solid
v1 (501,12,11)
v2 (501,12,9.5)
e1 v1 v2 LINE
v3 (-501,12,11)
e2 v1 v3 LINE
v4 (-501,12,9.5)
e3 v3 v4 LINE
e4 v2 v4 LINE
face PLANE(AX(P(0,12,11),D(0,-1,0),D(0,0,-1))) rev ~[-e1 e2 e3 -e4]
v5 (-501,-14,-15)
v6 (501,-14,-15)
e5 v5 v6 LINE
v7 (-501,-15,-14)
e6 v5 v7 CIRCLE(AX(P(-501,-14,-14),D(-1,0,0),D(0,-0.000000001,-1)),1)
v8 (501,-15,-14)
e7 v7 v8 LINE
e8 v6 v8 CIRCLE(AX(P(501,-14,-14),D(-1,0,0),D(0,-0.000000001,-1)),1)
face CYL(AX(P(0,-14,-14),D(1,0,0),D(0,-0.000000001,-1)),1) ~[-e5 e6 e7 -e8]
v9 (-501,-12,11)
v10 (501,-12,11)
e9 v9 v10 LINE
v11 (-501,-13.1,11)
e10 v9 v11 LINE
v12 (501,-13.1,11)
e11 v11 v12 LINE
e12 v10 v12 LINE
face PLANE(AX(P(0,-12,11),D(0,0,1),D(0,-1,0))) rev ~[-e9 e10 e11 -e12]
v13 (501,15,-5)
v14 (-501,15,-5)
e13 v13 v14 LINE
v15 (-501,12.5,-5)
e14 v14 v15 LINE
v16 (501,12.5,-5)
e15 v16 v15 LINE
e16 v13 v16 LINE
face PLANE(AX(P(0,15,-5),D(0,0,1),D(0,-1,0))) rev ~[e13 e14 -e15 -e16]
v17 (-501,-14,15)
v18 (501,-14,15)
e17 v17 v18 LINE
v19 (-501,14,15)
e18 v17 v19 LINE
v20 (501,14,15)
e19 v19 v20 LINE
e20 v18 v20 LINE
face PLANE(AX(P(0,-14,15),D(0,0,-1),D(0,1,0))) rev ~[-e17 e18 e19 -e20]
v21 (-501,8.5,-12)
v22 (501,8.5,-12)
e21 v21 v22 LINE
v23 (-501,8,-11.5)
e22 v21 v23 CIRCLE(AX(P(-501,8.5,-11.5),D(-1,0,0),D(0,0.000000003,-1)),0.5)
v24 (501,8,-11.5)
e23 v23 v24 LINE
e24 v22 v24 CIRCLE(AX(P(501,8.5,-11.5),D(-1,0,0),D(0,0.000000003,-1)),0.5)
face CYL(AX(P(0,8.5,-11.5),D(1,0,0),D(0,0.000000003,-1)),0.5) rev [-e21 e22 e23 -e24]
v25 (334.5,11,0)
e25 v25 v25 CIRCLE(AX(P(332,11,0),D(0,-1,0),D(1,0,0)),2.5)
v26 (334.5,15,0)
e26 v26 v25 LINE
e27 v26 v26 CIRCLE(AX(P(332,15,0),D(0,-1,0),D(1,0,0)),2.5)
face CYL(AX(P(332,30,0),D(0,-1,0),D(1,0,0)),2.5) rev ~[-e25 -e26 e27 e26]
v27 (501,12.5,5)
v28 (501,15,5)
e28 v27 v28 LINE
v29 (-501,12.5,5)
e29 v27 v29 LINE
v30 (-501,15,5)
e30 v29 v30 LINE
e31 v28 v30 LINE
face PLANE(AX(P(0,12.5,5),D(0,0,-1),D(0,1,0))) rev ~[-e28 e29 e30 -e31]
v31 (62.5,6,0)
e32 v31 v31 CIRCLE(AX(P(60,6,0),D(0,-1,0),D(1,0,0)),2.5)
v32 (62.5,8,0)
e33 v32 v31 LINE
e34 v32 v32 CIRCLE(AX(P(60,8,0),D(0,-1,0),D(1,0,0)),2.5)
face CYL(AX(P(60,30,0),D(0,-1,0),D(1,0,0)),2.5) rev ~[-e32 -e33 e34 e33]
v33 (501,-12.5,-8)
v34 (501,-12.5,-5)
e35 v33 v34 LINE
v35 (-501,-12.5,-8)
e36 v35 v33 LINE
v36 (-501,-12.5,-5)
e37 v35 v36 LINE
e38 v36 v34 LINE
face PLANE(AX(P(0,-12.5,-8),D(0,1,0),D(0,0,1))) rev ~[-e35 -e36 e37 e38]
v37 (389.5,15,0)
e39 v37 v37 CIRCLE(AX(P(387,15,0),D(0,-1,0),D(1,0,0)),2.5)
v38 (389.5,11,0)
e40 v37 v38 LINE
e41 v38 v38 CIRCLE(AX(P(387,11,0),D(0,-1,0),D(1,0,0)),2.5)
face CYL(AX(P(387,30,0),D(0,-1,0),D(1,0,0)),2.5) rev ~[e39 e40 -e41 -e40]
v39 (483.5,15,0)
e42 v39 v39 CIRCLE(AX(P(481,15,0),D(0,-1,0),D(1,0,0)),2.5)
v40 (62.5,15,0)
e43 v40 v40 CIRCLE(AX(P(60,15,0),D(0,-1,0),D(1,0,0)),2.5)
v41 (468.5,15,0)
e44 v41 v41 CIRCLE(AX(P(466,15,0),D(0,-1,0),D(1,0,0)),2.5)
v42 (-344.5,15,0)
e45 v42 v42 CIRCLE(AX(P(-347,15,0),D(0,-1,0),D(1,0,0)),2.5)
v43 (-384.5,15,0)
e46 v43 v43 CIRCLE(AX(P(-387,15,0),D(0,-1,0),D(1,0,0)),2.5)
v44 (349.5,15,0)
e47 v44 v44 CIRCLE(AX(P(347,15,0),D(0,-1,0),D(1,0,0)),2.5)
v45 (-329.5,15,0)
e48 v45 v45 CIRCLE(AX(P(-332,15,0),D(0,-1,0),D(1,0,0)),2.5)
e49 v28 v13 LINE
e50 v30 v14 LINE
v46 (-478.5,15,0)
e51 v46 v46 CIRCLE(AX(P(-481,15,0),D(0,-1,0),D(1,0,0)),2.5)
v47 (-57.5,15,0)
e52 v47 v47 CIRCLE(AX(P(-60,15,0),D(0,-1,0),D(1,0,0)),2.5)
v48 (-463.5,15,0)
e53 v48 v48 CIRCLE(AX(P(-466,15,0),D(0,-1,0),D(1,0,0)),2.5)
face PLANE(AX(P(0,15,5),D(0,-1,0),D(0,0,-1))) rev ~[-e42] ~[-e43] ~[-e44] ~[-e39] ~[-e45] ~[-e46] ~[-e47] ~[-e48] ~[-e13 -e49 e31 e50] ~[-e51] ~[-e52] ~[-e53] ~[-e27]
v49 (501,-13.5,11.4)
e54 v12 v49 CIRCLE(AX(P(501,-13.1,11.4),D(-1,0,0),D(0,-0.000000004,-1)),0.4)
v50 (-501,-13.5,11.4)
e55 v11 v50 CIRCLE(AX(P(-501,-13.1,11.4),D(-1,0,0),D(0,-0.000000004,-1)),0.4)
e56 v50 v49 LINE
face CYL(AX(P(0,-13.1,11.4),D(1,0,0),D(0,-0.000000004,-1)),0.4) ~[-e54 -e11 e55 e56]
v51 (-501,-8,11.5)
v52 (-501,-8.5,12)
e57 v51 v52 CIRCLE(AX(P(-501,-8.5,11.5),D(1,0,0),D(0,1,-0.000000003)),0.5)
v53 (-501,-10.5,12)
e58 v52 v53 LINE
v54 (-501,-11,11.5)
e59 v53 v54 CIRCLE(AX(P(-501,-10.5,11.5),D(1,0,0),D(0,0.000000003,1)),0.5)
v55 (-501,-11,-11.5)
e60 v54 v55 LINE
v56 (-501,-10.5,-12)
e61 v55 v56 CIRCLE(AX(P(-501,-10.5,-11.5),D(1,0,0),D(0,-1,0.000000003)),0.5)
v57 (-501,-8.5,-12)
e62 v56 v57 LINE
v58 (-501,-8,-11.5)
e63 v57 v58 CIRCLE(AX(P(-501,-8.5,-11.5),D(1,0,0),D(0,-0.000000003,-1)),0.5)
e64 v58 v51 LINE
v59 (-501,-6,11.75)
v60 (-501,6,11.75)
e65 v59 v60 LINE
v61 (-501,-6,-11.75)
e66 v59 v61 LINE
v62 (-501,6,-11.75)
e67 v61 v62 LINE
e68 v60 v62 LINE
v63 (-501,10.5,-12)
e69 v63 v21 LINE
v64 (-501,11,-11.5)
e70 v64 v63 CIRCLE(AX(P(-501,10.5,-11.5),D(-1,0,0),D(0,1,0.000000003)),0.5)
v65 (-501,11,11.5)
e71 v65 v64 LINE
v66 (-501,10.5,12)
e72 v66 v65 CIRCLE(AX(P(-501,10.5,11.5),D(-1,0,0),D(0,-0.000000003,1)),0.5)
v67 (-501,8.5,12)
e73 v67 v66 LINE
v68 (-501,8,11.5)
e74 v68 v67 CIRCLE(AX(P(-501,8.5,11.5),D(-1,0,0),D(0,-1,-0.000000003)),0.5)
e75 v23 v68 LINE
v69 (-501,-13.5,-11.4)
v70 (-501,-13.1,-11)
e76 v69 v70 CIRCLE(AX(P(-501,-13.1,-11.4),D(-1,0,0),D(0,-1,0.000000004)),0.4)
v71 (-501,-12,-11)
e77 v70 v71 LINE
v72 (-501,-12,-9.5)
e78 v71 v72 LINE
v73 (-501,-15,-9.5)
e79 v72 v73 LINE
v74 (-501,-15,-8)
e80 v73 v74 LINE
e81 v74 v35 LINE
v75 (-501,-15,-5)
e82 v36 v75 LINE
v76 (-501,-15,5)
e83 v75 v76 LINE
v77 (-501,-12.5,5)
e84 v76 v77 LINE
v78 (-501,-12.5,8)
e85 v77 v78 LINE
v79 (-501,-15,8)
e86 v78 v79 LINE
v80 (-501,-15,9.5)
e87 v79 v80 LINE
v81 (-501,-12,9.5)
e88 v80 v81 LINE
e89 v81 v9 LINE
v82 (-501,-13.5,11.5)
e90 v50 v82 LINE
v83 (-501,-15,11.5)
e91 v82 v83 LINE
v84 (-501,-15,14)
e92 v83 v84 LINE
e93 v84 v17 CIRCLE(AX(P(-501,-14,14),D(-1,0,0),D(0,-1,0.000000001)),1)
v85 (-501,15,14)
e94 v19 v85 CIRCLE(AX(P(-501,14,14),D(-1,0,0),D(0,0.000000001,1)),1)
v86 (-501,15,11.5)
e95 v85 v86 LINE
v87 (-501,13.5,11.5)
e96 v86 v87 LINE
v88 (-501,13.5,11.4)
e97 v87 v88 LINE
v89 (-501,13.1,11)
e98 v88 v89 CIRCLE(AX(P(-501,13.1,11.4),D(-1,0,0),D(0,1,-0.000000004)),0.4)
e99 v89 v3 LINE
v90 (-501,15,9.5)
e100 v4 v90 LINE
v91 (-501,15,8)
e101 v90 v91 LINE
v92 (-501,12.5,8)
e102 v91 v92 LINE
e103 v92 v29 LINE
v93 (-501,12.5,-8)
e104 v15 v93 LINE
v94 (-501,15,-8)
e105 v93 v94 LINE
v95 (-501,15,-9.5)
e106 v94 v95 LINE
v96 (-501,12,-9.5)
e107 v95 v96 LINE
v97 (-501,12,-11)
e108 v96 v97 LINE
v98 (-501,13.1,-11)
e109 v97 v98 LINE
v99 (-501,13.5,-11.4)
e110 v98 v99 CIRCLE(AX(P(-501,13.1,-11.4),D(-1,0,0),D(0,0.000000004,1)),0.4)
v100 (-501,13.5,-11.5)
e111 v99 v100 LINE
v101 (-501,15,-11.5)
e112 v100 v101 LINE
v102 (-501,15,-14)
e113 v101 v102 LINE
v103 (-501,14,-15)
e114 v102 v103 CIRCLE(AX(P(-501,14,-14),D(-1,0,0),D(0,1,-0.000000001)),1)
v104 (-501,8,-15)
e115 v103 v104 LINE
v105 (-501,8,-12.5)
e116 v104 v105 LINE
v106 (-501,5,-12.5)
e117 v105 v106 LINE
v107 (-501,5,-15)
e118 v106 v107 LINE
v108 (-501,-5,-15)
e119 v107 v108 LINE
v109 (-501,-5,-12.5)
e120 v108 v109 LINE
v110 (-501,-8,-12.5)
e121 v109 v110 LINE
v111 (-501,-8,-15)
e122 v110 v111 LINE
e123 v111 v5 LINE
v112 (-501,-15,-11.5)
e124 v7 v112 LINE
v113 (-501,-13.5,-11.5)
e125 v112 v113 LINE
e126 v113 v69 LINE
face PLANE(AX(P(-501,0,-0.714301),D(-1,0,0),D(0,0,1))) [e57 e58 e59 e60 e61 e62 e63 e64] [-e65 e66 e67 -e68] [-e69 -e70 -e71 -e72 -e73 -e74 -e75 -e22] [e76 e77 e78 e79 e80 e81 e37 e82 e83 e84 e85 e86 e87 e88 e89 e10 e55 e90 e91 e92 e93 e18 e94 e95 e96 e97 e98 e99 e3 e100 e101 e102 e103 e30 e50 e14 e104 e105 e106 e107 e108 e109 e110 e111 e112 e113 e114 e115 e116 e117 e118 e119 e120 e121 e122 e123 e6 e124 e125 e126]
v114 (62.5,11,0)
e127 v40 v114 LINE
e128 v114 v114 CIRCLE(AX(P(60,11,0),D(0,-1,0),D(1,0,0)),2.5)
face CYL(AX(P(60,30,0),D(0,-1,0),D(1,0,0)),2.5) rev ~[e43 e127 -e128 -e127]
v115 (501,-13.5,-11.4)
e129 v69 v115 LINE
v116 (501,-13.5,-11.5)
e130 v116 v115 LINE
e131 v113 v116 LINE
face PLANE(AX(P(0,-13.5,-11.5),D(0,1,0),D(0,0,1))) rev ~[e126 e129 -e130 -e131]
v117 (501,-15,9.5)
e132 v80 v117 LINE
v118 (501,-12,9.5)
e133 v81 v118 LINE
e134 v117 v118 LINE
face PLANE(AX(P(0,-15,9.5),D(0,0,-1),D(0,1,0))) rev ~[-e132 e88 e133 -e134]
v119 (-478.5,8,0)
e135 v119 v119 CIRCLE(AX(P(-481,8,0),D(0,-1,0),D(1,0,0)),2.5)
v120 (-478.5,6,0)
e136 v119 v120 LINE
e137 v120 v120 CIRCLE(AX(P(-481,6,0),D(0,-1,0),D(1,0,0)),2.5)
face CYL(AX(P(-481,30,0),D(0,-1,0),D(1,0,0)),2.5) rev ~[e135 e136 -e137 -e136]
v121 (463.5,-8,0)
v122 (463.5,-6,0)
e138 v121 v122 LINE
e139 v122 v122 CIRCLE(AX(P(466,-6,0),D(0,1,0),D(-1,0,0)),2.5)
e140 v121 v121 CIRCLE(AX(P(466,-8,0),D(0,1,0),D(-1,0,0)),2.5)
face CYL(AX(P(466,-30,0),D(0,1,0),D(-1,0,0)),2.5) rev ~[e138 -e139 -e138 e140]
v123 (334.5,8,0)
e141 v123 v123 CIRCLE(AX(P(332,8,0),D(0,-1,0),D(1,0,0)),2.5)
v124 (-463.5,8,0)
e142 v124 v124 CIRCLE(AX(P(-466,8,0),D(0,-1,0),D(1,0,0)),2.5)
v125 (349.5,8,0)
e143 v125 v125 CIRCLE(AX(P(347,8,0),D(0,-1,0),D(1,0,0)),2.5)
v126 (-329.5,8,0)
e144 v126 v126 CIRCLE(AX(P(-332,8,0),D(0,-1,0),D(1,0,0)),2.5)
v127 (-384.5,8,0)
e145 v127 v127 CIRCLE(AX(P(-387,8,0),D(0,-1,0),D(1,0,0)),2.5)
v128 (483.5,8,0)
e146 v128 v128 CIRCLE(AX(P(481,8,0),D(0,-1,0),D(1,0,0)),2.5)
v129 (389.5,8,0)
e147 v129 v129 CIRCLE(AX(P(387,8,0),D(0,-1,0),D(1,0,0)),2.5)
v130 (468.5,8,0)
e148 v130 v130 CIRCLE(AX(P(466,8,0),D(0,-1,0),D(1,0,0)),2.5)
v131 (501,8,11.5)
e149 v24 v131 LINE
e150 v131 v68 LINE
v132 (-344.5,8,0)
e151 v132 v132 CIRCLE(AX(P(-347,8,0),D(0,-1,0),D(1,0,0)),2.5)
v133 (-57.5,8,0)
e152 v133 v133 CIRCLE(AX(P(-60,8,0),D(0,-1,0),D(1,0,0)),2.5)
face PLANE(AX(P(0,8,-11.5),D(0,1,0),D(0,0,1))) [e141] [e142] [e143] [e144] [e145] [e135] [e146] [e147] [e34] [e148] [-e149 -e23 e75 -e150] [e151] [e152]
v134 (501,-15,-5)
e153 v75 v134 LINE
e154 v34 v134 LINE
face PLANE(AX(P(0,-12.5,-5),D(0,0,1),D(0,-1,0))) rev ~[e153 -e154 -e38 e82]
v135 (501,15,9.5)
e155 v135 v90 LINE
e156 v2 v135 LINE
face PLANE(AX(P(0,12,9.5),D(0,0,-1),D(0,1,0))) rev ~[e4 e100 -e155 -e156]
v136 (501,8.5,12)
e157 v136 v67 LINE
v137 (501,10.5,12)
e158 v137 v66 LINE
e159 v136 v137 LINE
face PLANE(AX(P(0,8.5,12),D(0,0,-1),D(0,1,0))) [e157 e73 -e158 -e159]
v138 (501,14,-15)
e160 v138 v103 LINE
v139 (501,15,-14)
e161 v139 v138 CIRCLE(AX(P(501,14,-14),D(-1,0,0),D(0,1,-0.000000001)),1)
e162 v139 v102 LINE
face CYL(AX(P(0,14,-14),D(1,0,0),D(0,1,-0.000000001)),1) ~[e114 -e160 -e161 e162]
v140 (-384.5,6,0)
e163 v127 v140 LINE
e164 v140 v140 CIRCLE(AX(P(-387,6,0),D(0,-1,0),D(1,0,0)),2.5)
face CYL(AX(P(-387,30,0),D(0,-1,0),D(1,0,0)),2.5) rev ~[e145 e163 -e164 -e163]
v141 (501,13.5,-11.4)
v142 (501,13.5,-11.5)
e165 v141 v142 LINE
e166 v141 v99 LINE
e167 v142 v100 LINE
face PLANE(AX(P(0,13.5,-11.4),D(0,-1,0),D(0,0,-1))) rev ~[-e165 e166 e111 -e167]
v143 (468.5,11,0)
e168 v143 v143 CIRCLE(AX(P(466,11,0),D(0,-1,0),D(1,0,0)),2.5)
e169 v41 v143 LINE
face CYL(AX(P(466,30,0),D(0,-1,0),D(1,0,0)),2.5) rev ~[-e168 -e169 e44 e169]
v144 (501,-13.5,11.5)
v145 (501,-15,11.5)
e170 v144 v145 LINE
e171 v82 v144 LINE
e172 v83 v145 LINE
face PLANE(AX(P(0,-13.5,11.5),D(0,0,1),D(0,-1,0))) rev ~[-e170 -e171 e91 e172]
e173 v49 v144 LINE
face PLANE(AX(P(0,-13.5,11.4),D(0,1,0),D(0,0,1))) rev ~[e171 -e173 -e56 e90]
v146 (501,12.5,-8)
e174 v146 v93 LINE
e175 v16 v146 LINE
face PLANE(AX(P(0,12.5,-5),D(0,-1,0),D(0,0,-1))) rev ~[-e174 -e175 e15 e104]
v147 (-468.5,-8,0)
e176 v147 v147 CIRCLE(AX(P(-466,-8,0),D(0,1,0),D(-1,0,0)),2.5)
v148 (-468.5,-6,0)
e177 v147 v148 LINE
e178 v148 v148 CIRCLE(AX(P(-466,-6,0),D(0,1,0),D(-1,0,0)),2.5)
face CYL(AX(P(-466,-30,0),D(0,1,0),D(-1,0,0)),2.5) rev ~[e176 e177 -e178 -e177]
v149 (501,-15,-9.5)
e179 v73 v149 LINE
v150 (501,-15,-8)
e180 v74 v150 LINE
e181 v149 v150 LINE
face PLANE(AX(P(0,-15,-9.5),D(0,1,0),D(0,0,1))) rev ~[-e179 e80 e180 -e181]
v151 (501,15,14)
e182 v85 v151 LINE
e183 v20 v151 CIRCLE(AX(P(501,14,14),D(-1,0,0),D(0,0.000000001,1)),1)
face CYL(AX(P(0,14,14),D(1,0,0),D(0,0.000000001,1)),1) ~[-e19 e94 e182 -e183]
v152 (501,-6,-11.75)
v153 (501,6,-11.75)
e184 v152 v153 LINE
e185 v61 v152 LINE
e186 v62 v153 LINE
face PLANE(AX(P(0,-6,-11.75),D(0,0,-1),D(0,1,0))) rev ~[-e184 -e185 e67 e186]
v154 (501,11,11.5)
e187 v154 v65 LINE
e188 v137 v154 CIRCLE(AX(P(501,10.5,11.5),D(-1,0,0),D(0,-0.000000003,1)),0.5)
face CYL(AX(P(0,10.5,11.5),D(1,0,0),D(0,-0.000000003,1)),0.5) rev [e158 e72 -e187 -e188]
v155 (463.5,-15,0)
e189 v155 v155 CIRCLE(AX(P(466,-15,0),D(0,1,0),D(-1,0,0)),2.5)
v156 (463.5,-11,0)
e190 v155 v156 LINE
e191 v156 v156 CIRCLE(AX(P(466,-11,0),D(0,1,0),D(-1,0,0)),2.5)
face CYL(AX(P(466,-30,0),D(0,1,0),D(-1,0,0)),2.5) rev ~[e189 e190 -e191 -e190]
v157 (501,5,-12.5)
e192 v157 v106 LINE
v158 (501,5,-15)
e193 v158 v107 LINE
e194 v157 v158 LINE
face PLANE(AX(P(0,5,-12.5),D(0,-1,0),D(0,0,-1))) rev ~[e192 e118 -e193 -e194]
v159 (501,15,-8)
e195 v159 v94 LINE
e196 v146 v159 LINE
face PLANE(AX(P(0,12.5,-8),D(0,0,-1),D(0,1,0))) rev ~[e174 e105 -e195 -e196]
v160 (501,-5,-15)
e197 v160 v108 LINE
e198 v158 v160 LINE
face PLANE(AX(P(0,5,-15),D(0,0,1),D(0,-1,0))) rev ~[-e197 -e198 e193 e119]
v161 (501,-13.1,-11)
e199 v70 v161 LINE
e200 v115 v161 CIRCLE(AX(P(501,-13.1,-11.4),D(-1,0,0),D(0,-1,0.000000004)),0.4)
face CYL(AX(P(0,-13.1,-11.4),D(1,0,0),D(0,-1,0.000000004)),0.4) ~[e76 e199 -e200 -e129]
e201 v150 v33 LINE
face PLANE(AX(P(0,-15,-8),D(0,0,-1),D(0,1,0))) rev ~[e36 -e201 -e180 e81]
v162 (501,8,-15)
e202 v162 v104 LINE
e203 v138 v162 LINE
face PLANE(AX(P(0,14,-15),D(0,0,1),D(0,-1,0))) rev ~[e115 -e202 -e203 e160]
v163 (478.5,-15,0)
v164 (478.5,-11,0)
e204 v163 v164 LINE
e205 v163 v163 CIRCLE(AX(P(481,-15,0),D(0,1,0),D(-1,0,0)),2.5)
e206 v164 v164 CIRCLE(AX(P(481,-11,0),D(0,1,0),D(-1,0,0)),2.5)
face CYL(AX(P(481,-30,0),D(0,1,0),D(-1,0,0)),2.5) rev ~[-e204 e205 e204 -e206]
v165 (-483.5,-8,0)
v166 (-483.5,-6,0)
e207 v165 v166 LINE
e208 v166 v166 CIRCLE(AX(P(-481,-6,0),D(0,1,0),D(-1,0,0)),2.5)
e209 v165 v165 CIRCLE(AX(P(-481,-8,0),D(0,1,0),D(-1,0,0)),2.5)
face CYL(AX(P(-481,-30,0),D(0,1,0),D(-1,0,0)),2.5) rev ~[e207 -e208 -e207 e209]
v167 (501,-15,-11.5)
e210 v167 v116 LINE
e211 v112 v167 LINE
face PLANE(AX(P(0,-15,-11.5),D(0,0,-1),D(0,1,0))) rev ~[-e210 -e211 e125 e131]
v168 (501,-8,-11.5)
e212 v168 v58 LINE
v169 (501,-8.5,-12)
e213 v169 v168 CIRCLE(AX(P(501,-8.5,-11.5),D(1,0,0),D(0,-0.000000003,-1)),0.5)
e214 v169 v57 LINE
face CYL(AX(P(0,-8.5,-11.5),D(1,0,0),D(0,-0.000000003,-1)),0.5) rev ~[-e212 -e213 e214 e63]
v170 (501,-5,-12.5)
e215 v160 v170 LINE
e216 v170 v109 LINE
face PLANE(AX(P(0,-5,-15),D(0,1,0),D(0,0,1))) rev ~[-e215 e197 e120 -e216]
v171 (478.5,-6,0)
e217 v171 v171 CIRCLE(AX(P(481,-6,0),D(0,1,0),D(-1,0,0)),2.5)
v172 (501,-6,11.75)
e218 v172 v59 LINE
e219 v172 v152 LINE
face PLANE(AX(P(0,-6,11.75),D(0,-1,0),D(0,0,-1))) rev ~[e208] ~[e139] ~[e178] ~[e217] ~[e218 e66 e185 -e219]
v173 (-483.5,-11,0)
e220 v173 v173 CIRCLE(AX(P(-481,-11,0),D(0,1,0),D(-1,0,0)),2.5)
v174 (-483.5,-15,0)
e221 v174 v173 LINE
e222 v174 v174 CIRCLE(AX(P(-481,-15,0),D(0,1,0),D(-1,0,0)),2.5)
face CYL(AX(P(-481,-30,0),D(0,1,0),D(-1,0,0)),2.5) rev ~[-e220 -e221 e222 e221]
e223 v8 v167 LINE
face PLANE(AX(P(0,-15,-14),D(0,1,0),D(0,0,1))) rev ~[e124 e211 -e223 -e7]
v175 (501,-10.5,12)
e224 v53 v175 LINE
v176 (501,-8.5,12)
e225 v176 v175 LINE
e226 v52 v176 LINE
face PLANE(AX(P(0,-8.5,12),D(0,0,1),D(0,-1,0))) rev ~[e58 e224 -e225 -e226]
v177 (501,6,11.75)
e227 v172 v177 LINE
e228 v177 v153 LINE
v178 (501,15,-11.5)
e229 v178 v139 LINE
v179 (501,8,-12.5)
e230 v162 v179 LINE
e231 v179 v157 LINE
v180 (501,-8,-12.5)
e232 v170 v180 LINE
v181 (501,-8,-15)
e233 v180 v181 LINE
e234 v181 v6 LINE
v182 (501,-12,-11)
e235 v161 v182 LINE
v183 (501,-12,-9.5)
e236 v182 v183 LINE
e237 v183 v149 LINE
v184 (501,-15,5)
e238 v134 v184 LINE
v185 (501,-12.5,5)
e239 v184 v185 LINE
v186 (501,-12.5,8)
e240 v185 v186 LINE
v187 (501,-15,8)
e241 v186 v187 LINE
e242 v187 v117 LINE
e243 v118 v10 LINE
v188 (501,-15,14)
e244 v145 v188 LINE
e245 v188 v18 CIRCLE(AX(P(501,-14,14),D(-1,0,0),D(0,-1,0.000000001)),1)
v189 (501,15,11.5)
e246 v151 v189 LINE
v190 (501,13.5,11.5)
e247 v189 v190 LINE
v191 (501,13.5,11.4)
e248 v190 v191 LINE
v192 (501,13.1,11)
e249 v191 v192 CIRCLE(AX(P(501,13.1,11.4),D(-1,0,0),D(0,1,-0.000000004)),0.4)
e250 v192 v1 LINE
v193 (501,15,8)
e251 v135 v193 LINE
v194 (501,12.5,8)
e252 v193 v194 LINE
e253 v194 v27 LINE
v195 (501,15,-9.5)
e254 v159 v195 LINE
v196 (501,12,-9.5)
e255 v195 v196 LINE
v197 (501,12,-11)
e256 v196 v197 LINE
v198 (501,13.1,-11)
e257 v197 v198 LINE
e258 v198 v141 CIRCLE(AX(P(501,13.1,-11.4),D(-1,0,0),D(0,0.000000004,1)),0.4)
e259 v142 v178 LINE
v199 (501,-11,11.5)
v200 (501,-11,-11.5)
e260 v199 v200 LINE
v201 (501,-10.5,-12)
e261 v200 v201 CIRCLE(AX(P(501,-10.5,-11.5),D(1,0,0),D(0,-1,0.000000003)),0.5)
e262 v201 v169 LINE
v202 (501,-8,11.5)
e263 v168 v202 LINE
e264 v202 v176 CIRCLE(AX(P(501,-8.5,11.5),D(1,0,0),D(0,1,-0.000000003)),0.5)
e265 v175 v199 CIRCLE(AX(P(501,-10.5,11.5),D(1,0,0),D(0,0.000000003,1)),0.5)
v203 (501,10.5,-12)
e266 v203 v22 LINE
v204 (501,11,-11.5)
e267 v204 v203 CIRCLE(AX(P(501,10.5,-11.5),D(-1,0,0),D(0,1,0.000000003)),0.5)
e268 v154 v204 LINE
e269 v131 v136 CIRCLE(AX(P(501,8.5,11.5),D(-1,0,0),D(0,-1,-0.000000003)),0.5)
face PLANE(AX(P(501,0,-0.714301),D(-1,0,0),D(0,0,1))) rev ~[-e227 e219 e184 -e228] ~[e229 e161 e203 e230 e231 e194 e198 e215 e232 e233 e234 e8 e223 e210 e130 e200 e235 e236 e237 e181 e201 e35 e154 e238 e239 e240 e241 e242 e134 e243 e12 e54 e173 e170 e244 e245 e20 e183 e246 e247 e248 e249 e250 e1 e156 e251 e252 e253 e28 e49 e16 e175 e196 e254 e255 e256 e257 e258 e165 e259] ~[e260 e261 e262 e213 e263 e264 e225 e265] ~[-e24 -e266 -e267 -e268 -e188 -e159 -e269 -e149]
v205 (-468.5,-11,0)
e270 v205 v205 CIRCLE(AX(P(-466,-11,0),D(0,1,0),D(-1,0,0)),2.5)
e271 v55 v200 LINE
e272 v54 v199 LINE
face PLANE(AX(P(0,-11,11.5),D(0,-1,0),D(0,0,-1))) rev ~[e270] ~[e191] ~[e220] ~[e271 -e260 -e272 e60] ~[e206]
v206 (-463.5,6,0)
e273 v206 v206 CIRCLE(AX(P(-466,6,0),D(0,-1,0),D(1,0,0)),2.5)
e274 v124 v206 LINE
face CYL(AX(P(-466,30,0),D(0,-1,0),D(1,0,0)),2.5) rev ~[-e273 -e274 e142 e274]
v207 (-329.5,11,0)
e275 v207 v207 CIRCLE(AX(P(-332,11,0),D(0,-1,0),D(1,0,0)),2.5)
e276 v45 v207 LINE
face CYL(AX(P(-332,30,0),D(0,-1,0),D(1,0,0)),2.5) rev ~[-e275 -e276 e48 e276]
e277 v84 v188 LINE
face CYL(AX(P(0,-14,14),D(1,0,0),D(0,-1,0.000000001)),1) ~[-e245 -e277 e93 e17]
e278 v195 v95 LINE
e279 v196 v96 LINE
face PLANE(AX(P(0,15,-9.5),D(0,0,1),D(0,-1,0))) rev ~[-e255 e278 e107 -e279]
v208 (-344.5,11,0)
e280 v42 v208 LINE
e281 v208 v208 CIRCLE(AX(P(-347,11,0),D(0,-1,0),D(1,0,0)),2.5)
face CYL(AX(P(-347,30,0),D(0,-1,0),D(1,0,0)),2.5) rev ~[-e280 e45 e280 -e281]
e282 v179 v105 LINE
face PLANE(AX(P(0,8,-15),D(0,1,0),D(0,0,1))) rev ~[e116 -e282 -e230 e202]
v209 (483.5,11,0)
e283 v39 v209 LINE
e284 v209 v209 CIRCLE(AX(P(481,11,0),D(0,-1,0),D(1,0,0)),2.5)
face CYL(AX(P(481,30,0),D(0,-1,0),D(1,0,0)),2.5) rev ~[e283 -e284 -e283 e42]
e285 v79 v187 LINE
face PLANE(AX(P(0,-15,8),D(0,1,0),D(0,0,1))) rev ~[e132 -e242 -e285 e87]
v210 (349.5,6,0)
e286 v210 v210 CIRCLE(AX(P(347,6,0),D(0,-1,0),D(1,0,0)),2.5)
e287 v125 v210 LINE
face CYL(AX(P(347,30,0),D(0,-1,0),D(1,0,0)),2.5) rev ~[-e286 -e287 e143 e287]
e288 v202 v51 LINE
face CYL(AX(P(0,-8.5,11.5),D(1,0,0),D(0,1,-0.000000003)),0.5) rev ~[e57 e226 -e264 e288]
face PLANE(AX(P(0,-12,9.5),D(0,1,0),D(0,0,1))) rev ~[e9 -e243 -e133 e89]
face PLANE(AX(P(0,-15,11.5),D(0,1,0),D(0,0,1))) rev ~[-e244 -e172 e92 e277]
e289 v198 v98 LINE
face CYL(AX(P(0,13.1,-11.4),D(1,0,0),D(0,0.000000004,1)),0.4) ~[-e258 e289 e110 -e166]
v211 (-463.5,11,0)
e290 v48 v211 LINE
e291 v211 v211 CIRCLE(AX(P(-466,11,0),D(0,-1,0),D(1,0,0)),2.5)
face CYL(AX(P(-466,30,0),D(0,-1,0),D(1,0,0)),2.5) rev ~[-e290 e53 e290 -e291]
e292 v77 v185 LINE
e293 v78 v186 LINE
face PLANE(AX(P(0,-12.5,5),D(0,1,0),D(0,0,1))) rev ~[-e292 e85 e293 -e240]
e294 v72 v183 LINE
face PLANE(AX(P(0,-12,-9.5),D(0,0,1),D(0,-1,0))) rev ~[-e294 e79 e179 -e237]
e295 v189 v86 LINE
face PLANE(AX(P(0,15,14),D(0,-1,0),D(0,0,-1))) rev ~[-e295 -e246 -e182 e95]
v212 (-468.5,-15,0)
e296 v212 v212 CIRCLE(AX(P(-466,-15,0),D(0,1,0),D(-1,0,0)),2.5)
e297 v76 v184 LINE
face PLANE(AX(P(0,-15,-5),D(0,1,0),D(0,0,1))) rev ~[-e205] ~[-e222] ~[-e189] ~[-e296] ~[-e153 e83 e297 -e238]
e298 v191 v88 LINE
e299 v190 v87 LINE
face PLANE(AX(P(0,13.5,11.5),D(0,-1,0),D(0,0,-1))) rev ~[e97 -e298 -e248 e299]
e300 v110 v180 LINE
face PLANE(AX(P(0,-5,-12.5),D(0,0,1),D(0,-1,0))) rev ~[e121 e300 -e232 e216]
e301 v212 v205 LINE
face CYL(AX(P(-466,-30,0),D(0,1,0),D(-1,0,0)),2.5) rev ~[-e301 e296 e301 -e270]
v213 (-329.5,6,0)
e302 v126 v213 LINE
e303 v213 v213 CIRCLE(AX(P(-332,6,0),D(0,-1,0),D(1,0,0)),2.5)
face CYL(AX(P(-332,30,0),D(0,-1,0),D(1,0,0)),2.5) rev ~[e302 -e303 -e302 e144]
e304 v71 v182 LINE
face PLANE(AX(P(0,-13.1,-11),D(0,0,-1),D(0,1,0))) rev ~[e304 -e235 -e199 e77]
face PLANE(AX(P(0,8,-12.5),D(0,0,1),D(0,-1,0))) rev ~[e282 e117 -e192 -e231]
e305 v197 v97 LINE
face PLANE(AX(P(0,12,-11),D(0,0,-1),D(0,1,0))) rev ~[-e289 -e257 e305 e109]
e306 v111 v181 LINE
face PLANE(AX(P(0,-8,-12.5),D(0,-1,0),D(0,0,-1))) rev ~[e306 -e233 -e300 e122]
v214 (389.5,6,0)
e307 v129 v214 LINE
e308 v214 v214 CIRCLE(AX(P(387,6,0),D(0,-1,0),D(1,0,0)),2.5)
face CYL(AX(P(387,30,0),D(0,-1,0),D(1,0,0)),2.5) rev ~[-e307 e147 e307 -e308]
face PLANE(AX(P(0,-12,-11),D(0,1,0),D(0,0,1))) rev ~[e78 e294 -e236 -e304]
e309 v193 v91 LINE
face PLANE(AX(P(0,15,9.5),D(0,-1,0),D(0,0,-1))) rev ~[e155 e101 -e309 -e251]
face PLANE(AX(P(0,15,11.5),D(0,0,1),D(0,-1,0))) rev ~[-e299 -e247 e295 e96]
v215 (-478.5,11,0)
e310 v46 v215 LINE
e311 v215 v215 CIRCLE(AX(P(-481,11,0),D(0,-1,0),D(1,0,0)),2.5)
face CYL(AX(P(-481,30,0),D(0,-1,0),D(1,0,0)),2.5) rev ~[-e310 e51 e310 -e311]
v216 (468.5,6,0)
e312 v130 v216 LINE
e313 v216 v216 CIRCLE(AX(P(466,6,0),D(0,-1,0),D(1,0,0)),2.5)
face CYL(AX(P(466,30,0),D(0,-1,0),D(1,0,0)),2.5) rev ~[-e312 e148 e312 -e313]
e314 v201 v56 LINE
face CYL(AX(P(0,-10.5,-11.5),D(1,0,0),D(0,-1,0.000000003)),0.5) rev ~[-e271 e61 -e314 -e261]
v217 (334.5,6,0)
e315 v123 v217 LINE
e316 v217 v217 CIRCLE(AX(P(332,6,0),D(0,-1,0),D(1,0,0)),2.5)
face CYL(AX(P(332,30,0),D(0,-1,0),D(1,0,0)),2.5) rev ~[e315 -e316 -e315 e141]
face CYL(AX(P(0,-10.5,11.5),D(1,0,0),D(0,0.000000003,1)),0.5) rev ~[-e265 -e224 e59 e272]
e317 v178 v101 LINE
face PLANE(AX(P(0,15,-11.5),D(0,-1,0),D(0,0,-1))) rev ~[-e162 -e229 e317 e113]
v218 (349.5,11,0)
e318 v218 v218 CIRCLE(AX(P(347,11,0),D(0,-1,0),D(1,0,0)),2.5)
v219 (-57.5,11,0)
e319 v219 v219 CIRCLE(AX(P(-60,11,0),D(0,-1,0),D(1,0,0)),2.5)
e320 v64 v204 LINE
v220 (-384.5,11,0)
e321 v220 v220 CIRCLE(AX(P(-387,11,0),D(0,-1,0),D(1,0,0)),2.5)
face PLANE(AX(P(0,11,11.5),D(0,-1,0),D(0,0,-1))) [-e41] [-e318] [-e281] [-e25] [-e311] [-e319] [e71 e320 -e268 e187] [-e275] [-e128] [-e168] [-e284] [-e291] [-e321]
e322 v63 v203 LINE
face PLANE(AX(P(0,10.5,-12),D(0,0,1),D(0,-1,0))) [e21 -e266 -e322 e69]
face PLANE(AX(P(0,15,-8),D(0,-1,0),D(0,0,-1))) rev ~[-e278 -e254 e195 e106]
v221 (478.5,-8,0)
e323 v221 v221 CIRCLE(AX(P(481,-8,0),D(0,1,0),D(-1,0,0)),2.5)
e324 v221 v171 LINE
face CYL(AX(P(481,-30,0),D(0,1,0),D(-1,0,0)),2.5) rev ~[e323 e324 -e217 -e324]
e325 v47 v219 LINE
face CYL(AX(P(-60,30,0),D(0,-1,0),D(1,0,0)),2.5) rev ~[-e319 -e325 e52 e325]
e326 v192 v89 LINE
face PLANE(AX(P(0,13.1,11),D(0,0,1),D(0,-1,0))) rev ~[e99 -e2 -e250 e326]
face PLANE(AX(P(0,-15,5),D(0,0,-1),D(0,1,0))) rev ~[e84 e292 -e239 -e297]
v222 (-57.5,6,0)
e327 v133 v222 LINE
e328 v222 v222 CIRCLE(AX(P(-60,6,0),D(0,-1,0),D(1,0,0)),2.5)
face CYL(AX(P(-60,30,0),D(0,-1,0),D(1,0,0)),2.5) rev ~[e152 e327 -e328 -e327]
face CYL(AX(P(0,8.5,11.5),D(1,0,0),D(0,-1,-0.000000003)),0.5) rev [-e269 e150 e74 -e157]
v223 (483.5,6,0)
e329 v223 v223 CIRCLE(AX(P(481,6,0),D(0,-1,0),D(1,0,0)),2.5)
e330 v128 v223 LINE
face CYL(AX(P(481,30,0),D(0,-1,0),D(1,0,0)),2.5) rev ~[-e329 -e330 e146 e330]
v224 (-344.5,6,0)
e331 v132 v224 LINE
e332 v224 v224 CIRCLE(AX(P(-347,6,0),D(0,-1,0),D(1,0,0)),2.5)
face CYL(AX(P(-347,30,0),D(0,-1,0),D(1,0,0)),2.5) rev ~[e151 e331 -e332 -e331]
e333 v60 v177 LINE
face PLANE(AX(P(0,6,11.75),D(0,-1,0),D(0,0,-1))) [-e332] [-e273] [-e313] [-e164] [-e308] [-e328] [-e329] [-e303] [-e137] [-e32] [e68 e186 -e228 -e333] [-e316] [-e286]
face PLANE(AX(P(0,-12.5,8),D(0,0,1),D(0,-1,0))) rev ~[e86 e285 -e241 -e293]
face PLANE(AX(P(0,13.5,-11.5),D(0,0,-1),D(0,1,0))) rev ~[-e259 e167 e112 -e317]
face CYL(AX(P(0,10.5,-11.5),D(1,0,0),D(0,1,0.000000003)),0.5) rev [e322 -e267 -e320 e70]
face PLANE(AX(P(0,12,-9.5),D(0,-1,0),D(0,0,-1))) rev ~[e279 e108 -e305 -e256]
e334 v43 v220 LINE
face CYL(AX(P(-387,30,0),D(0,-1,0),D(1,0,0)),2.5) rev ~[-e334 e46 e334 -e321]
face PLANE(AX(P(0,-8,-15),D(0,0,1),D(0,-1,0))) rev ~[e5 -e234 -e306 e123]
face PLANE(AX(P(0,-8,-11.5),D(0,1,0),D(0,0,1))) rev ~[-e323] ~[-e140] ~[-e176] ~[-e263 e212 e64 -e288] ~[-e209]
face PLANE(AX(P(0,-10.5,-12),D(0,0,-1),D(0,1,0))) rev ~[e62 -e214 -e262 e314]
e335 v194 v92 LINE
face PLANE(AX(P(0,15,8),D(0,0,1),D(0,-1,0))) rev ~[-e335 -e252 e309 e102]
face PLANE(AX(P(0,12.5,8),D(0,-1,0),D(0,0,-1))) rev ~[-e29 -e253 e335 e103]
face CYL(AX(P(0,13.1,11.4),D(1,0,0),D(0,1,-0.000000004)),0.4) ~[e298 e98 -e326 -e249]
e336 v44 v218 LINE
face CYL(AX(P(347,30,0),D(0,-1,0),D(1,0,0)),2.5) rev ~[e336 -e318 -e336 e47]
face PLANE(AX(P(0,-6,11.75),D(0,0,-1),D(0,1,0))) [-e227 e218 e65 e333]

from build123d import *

# Parameters (mm, degrees)
SKETCH_1_W             = 23.5
SKETCH_1_H             = 12
EXTRUDE_1_DEPTH        = 501
HOLE_WIZARD_M6_1_D     = 5
HOLE_WIZARD_M6_1_DEPTH = 15
HOLE_WIZARD_M6_1_TIP   = 1.502151548
HOLE_WIZARD_M6_2_D     = 5
HOLE_WIZARD_M6_2_DEPTH = 15
HOLE_WIZARD_M6_2_TIP   = 1.502151548
HOLE_WIZARD_M6_3_D     = 5
HOLE_WIZARD_M6_3_DEPTH = 15
HOLE_WIZARD_M6_3_TIP   = 1.502151548


with BuildPart() as part:
    # 草图1 → 凸台-拉伸1 (new, symmetric)
    with BuildSketch(Plane(origin=(0, 0, 0), x_dir=(0, 0, -1), z_dir=(1, 0, 0))):
        with BuildLine():
            Line((-11.5, 15), (-14, 15))
            ThreePointArc((-14, 15), (-14.707106781, 14.707106781), (-15, 14))
            Line((-15, 14), (-15, -14))
            ThreePointArc((-15, -14), (-14.707106781, -14.707106781), (-14, -15))
            Line((-14, -15), (-11.5, -15))
            Line((-11.5, -15), (-11.5, -13.5))
            Line((-11.5, -13.5), (-11.4, -13.5))
            ThreePointArc((-11.4, -13.5), (-11.117157288, -13.382842712), (-11, -13.1))
            Line((-11, -13.1), (-11, -12))
            Line((-11, -12), (-9.5, -12))
            Line((-9.5, -12), (-9.5, -15))
            Line((-9.5, -15), (-8, -15))
            Line((-8, -15), (-8, -12.5))
            Line((-8, -12.5), (-5, -12.5))
            Line((-5, -12.5), (-5, -15))
            Line((-5, -15), (5, -15))
            Line((5, -15), (5, -12.5))
            Line((5, -12.5), (8, -12.5))
            Line((8, -12.5), (8, -15))
            Line((8, -15), (9.5, -15))
            Line((9.5, -15), (9.5, -12))
            Line((9.5, -12), (11, -12))
            Line((11, -12), (11, -13.1))
            ThreePointArc((11, -13.1), (11.117157288, -13.382842712), (11.4, -13.5))
            Line((11.4, -13.5), (11.5, -13.5))
            Line((11.5, -13.5), (11.5, -15))
            Line((11.5, -15), (14, -15))
            ThreePointArc((14, -15), (14.707106781, -14.707106781), (15, -14))
            Line((15, -14), (15, -8))
            Line((15, -8), (12.5, -8))
            Line((12.5, -8), (12.5, -5))
            Line((12.5, -5), (15, -5))
            Line((15, -5), (15, 5))
            Line((15, 5), (12.5, 5))
            Line((12.5, 5), (12.5, 8))
            Line((12.5, 8), (15, 8))
            Line((15, 8), (15, 14))
            ThreePointArc((15, 14), (14.707106781, 14.707106781), (14, 15))
            Line((14, 15), (11.5, 15))
            Line((11.5, 15), (11.5, 13.5))
            Line((11.5, 13.5), (11.4, 13.5))
            ThreePointArc((11.4, 13.5), (11.117157288, 13.382842712), (11, 13.1))
            Line((11, 13.1), (11, 12))
            Line((11, 12), (9.5, 12))
            Line((9.5, 12), (9.5, 15))
            Line((9.5, 15), (8, 15))
            Line((8, 15), (8, 12.5))
            Line((8, 12.5), (5, 12.5))
            Line((5, 12.5), (5, 15))
            Line((5, 15), (-5, 15))
            Line((-5, 15), (-5, 12.5))
            Line((-5, 12.5), (-8, 12.5))
            Line((-8, 12.5), (-8, 15))
            Line((-8, 15), (-9.5, 15))
            Line((-9.5, 15), (-9.5, 12))
            Line((-9.5, 12), (-11, 12))
            Line((-11, 12), (-11, 13.1))
            ThreePointArc((-11, 13.1), (-11.117157288, 13.382842712), (-11.4, 13.5))
            Line((-11.4, 13.5), (-11.5, 13.5))
            Line((-11.5, 13.5), (-11.5, 15))
        make_face()
        with BuildLine():
            Line((12, -8.5), (12, -10.5))
            ThreePointArc((12, -10.5), (11.853553391, -10.853553391), (11.5, -11))
            Line((11.5, -11), (-11.5, -11))
            ThreePointArc((-11.5, -11), (-11.853553391, -10.853553391), (-12, -10.5))
            Line((-12, -10.5), (-12, -8.5))
            ThreePointArc((-12, -8.5), (-11.853553391, -8.146446609), (-11.5, -8))
            Line((-11.5, -8), (11.5, -8))
            ThreePointArc((11.5, -8), (11.853553391, -8.146446609), (12, -8.5))
        make_face(mode=Mode.SUBTRACT)
        Rectangle(SKETCH_1_W, SKETCH_1_H, mode=Mode.SUBTRACT)
        with BuildLine():
            ThreePointArc((-12, 10.5), (-11.853553391, 10.853553391), (-11.5, 11))
            Line((-11.5, 11), (11.5, 11))
            ThreePointArc((11.5, 11), (11.853553391, 10.853553391), (12, 10.5))
            Line((12, 10.5), (12, 8.5))
            ThreePointArc((12, 8.5), (11.853553391, 8.146446609), (11.5, 8))
            Line((11.5, 8), (-11.5, 8))
            ThreePointArc((-11.5, 8), (-11.853553391, 8.146446609), (-12, 8.5))
            Line((-12, 8.5), (-12, 10.5))
        make_face(mode=Mode.SUBTRACT)
    extrude(amount=EXTRUDE_1_DEPTH, both=True)

    # M6 螺纹孔1
    with Locations(Plane.XZ.offset(15)):
        with Locations((-481, 0), (-466, 0), (466, 0), (481, 0)):
            Hole(HOLE_WIZARD_M6_1_D / 2, depth=HOLE_WIZARD_M6_1_DEPTH)
            with Locations((0, 0, -(HOLE_WIZARD_M6_1_DEPTH + HOLE_WIZARD_M6_1_TIP / 2))):  # 118° drill point
                Cone(0, HOLE_WIZARD_M6_1_D / 2, HOLE_WIZARD_M6_1_TIP, mode=Mode.SUBTRACT)

    # M6 螺纹孔2
    with Locations(Plane(origin=(0, 15, 0), x_dir=(-1, 0, 0), z_dir=(0, 1, 0))):
        with Locations((-481, 0), (-466, 0), (466, 0), (481, 0)):
            Hole(HOLE_WIZARD_M6_2_D / 2, depth=HOLE_WIZARD_M6_2_DEPTH)
            with Locations((0, 0, -(HOLE_WIZARD_M6_2_DEPTH + HOLE_WIZARD_M6_2_TIP / 2))):  # 118° drill point
                Cone(0, HOLE_WIZARD_M6_2_D / 2, HOLE_WIZARD_M6_2_TIP, mode=Mode.SUBTRACT)

    # M6 螺纹孔3
    with Locations(Plane(origin=(0, 15, 0), x_dir=(-1, 0, 0), z_dir=(0, 1, 0))):
        with Locations((387, 0), (347, 0), (60, 0), (-60, 0), (-347, 0), (-387, 0), (332, 0), (-332, 0)):
            Hole(HOLE_WIZARD_M6_3_D / 2, depth=HOLE_WIZARD_M6_3_DEPTH)
            with Locations((0, 0, -(HOLE_WIZARD_M6_3_DEPTH + HOLE_WIZARD_M6_3_TIP / 2))):  # 118° drill point
                Cone(0, HOLE_WIZARD_M6_3_D / 2, HOLE_WIZARD_M6_3_TIP, mode=Mode.SUBTRACT)


solid = part.part
